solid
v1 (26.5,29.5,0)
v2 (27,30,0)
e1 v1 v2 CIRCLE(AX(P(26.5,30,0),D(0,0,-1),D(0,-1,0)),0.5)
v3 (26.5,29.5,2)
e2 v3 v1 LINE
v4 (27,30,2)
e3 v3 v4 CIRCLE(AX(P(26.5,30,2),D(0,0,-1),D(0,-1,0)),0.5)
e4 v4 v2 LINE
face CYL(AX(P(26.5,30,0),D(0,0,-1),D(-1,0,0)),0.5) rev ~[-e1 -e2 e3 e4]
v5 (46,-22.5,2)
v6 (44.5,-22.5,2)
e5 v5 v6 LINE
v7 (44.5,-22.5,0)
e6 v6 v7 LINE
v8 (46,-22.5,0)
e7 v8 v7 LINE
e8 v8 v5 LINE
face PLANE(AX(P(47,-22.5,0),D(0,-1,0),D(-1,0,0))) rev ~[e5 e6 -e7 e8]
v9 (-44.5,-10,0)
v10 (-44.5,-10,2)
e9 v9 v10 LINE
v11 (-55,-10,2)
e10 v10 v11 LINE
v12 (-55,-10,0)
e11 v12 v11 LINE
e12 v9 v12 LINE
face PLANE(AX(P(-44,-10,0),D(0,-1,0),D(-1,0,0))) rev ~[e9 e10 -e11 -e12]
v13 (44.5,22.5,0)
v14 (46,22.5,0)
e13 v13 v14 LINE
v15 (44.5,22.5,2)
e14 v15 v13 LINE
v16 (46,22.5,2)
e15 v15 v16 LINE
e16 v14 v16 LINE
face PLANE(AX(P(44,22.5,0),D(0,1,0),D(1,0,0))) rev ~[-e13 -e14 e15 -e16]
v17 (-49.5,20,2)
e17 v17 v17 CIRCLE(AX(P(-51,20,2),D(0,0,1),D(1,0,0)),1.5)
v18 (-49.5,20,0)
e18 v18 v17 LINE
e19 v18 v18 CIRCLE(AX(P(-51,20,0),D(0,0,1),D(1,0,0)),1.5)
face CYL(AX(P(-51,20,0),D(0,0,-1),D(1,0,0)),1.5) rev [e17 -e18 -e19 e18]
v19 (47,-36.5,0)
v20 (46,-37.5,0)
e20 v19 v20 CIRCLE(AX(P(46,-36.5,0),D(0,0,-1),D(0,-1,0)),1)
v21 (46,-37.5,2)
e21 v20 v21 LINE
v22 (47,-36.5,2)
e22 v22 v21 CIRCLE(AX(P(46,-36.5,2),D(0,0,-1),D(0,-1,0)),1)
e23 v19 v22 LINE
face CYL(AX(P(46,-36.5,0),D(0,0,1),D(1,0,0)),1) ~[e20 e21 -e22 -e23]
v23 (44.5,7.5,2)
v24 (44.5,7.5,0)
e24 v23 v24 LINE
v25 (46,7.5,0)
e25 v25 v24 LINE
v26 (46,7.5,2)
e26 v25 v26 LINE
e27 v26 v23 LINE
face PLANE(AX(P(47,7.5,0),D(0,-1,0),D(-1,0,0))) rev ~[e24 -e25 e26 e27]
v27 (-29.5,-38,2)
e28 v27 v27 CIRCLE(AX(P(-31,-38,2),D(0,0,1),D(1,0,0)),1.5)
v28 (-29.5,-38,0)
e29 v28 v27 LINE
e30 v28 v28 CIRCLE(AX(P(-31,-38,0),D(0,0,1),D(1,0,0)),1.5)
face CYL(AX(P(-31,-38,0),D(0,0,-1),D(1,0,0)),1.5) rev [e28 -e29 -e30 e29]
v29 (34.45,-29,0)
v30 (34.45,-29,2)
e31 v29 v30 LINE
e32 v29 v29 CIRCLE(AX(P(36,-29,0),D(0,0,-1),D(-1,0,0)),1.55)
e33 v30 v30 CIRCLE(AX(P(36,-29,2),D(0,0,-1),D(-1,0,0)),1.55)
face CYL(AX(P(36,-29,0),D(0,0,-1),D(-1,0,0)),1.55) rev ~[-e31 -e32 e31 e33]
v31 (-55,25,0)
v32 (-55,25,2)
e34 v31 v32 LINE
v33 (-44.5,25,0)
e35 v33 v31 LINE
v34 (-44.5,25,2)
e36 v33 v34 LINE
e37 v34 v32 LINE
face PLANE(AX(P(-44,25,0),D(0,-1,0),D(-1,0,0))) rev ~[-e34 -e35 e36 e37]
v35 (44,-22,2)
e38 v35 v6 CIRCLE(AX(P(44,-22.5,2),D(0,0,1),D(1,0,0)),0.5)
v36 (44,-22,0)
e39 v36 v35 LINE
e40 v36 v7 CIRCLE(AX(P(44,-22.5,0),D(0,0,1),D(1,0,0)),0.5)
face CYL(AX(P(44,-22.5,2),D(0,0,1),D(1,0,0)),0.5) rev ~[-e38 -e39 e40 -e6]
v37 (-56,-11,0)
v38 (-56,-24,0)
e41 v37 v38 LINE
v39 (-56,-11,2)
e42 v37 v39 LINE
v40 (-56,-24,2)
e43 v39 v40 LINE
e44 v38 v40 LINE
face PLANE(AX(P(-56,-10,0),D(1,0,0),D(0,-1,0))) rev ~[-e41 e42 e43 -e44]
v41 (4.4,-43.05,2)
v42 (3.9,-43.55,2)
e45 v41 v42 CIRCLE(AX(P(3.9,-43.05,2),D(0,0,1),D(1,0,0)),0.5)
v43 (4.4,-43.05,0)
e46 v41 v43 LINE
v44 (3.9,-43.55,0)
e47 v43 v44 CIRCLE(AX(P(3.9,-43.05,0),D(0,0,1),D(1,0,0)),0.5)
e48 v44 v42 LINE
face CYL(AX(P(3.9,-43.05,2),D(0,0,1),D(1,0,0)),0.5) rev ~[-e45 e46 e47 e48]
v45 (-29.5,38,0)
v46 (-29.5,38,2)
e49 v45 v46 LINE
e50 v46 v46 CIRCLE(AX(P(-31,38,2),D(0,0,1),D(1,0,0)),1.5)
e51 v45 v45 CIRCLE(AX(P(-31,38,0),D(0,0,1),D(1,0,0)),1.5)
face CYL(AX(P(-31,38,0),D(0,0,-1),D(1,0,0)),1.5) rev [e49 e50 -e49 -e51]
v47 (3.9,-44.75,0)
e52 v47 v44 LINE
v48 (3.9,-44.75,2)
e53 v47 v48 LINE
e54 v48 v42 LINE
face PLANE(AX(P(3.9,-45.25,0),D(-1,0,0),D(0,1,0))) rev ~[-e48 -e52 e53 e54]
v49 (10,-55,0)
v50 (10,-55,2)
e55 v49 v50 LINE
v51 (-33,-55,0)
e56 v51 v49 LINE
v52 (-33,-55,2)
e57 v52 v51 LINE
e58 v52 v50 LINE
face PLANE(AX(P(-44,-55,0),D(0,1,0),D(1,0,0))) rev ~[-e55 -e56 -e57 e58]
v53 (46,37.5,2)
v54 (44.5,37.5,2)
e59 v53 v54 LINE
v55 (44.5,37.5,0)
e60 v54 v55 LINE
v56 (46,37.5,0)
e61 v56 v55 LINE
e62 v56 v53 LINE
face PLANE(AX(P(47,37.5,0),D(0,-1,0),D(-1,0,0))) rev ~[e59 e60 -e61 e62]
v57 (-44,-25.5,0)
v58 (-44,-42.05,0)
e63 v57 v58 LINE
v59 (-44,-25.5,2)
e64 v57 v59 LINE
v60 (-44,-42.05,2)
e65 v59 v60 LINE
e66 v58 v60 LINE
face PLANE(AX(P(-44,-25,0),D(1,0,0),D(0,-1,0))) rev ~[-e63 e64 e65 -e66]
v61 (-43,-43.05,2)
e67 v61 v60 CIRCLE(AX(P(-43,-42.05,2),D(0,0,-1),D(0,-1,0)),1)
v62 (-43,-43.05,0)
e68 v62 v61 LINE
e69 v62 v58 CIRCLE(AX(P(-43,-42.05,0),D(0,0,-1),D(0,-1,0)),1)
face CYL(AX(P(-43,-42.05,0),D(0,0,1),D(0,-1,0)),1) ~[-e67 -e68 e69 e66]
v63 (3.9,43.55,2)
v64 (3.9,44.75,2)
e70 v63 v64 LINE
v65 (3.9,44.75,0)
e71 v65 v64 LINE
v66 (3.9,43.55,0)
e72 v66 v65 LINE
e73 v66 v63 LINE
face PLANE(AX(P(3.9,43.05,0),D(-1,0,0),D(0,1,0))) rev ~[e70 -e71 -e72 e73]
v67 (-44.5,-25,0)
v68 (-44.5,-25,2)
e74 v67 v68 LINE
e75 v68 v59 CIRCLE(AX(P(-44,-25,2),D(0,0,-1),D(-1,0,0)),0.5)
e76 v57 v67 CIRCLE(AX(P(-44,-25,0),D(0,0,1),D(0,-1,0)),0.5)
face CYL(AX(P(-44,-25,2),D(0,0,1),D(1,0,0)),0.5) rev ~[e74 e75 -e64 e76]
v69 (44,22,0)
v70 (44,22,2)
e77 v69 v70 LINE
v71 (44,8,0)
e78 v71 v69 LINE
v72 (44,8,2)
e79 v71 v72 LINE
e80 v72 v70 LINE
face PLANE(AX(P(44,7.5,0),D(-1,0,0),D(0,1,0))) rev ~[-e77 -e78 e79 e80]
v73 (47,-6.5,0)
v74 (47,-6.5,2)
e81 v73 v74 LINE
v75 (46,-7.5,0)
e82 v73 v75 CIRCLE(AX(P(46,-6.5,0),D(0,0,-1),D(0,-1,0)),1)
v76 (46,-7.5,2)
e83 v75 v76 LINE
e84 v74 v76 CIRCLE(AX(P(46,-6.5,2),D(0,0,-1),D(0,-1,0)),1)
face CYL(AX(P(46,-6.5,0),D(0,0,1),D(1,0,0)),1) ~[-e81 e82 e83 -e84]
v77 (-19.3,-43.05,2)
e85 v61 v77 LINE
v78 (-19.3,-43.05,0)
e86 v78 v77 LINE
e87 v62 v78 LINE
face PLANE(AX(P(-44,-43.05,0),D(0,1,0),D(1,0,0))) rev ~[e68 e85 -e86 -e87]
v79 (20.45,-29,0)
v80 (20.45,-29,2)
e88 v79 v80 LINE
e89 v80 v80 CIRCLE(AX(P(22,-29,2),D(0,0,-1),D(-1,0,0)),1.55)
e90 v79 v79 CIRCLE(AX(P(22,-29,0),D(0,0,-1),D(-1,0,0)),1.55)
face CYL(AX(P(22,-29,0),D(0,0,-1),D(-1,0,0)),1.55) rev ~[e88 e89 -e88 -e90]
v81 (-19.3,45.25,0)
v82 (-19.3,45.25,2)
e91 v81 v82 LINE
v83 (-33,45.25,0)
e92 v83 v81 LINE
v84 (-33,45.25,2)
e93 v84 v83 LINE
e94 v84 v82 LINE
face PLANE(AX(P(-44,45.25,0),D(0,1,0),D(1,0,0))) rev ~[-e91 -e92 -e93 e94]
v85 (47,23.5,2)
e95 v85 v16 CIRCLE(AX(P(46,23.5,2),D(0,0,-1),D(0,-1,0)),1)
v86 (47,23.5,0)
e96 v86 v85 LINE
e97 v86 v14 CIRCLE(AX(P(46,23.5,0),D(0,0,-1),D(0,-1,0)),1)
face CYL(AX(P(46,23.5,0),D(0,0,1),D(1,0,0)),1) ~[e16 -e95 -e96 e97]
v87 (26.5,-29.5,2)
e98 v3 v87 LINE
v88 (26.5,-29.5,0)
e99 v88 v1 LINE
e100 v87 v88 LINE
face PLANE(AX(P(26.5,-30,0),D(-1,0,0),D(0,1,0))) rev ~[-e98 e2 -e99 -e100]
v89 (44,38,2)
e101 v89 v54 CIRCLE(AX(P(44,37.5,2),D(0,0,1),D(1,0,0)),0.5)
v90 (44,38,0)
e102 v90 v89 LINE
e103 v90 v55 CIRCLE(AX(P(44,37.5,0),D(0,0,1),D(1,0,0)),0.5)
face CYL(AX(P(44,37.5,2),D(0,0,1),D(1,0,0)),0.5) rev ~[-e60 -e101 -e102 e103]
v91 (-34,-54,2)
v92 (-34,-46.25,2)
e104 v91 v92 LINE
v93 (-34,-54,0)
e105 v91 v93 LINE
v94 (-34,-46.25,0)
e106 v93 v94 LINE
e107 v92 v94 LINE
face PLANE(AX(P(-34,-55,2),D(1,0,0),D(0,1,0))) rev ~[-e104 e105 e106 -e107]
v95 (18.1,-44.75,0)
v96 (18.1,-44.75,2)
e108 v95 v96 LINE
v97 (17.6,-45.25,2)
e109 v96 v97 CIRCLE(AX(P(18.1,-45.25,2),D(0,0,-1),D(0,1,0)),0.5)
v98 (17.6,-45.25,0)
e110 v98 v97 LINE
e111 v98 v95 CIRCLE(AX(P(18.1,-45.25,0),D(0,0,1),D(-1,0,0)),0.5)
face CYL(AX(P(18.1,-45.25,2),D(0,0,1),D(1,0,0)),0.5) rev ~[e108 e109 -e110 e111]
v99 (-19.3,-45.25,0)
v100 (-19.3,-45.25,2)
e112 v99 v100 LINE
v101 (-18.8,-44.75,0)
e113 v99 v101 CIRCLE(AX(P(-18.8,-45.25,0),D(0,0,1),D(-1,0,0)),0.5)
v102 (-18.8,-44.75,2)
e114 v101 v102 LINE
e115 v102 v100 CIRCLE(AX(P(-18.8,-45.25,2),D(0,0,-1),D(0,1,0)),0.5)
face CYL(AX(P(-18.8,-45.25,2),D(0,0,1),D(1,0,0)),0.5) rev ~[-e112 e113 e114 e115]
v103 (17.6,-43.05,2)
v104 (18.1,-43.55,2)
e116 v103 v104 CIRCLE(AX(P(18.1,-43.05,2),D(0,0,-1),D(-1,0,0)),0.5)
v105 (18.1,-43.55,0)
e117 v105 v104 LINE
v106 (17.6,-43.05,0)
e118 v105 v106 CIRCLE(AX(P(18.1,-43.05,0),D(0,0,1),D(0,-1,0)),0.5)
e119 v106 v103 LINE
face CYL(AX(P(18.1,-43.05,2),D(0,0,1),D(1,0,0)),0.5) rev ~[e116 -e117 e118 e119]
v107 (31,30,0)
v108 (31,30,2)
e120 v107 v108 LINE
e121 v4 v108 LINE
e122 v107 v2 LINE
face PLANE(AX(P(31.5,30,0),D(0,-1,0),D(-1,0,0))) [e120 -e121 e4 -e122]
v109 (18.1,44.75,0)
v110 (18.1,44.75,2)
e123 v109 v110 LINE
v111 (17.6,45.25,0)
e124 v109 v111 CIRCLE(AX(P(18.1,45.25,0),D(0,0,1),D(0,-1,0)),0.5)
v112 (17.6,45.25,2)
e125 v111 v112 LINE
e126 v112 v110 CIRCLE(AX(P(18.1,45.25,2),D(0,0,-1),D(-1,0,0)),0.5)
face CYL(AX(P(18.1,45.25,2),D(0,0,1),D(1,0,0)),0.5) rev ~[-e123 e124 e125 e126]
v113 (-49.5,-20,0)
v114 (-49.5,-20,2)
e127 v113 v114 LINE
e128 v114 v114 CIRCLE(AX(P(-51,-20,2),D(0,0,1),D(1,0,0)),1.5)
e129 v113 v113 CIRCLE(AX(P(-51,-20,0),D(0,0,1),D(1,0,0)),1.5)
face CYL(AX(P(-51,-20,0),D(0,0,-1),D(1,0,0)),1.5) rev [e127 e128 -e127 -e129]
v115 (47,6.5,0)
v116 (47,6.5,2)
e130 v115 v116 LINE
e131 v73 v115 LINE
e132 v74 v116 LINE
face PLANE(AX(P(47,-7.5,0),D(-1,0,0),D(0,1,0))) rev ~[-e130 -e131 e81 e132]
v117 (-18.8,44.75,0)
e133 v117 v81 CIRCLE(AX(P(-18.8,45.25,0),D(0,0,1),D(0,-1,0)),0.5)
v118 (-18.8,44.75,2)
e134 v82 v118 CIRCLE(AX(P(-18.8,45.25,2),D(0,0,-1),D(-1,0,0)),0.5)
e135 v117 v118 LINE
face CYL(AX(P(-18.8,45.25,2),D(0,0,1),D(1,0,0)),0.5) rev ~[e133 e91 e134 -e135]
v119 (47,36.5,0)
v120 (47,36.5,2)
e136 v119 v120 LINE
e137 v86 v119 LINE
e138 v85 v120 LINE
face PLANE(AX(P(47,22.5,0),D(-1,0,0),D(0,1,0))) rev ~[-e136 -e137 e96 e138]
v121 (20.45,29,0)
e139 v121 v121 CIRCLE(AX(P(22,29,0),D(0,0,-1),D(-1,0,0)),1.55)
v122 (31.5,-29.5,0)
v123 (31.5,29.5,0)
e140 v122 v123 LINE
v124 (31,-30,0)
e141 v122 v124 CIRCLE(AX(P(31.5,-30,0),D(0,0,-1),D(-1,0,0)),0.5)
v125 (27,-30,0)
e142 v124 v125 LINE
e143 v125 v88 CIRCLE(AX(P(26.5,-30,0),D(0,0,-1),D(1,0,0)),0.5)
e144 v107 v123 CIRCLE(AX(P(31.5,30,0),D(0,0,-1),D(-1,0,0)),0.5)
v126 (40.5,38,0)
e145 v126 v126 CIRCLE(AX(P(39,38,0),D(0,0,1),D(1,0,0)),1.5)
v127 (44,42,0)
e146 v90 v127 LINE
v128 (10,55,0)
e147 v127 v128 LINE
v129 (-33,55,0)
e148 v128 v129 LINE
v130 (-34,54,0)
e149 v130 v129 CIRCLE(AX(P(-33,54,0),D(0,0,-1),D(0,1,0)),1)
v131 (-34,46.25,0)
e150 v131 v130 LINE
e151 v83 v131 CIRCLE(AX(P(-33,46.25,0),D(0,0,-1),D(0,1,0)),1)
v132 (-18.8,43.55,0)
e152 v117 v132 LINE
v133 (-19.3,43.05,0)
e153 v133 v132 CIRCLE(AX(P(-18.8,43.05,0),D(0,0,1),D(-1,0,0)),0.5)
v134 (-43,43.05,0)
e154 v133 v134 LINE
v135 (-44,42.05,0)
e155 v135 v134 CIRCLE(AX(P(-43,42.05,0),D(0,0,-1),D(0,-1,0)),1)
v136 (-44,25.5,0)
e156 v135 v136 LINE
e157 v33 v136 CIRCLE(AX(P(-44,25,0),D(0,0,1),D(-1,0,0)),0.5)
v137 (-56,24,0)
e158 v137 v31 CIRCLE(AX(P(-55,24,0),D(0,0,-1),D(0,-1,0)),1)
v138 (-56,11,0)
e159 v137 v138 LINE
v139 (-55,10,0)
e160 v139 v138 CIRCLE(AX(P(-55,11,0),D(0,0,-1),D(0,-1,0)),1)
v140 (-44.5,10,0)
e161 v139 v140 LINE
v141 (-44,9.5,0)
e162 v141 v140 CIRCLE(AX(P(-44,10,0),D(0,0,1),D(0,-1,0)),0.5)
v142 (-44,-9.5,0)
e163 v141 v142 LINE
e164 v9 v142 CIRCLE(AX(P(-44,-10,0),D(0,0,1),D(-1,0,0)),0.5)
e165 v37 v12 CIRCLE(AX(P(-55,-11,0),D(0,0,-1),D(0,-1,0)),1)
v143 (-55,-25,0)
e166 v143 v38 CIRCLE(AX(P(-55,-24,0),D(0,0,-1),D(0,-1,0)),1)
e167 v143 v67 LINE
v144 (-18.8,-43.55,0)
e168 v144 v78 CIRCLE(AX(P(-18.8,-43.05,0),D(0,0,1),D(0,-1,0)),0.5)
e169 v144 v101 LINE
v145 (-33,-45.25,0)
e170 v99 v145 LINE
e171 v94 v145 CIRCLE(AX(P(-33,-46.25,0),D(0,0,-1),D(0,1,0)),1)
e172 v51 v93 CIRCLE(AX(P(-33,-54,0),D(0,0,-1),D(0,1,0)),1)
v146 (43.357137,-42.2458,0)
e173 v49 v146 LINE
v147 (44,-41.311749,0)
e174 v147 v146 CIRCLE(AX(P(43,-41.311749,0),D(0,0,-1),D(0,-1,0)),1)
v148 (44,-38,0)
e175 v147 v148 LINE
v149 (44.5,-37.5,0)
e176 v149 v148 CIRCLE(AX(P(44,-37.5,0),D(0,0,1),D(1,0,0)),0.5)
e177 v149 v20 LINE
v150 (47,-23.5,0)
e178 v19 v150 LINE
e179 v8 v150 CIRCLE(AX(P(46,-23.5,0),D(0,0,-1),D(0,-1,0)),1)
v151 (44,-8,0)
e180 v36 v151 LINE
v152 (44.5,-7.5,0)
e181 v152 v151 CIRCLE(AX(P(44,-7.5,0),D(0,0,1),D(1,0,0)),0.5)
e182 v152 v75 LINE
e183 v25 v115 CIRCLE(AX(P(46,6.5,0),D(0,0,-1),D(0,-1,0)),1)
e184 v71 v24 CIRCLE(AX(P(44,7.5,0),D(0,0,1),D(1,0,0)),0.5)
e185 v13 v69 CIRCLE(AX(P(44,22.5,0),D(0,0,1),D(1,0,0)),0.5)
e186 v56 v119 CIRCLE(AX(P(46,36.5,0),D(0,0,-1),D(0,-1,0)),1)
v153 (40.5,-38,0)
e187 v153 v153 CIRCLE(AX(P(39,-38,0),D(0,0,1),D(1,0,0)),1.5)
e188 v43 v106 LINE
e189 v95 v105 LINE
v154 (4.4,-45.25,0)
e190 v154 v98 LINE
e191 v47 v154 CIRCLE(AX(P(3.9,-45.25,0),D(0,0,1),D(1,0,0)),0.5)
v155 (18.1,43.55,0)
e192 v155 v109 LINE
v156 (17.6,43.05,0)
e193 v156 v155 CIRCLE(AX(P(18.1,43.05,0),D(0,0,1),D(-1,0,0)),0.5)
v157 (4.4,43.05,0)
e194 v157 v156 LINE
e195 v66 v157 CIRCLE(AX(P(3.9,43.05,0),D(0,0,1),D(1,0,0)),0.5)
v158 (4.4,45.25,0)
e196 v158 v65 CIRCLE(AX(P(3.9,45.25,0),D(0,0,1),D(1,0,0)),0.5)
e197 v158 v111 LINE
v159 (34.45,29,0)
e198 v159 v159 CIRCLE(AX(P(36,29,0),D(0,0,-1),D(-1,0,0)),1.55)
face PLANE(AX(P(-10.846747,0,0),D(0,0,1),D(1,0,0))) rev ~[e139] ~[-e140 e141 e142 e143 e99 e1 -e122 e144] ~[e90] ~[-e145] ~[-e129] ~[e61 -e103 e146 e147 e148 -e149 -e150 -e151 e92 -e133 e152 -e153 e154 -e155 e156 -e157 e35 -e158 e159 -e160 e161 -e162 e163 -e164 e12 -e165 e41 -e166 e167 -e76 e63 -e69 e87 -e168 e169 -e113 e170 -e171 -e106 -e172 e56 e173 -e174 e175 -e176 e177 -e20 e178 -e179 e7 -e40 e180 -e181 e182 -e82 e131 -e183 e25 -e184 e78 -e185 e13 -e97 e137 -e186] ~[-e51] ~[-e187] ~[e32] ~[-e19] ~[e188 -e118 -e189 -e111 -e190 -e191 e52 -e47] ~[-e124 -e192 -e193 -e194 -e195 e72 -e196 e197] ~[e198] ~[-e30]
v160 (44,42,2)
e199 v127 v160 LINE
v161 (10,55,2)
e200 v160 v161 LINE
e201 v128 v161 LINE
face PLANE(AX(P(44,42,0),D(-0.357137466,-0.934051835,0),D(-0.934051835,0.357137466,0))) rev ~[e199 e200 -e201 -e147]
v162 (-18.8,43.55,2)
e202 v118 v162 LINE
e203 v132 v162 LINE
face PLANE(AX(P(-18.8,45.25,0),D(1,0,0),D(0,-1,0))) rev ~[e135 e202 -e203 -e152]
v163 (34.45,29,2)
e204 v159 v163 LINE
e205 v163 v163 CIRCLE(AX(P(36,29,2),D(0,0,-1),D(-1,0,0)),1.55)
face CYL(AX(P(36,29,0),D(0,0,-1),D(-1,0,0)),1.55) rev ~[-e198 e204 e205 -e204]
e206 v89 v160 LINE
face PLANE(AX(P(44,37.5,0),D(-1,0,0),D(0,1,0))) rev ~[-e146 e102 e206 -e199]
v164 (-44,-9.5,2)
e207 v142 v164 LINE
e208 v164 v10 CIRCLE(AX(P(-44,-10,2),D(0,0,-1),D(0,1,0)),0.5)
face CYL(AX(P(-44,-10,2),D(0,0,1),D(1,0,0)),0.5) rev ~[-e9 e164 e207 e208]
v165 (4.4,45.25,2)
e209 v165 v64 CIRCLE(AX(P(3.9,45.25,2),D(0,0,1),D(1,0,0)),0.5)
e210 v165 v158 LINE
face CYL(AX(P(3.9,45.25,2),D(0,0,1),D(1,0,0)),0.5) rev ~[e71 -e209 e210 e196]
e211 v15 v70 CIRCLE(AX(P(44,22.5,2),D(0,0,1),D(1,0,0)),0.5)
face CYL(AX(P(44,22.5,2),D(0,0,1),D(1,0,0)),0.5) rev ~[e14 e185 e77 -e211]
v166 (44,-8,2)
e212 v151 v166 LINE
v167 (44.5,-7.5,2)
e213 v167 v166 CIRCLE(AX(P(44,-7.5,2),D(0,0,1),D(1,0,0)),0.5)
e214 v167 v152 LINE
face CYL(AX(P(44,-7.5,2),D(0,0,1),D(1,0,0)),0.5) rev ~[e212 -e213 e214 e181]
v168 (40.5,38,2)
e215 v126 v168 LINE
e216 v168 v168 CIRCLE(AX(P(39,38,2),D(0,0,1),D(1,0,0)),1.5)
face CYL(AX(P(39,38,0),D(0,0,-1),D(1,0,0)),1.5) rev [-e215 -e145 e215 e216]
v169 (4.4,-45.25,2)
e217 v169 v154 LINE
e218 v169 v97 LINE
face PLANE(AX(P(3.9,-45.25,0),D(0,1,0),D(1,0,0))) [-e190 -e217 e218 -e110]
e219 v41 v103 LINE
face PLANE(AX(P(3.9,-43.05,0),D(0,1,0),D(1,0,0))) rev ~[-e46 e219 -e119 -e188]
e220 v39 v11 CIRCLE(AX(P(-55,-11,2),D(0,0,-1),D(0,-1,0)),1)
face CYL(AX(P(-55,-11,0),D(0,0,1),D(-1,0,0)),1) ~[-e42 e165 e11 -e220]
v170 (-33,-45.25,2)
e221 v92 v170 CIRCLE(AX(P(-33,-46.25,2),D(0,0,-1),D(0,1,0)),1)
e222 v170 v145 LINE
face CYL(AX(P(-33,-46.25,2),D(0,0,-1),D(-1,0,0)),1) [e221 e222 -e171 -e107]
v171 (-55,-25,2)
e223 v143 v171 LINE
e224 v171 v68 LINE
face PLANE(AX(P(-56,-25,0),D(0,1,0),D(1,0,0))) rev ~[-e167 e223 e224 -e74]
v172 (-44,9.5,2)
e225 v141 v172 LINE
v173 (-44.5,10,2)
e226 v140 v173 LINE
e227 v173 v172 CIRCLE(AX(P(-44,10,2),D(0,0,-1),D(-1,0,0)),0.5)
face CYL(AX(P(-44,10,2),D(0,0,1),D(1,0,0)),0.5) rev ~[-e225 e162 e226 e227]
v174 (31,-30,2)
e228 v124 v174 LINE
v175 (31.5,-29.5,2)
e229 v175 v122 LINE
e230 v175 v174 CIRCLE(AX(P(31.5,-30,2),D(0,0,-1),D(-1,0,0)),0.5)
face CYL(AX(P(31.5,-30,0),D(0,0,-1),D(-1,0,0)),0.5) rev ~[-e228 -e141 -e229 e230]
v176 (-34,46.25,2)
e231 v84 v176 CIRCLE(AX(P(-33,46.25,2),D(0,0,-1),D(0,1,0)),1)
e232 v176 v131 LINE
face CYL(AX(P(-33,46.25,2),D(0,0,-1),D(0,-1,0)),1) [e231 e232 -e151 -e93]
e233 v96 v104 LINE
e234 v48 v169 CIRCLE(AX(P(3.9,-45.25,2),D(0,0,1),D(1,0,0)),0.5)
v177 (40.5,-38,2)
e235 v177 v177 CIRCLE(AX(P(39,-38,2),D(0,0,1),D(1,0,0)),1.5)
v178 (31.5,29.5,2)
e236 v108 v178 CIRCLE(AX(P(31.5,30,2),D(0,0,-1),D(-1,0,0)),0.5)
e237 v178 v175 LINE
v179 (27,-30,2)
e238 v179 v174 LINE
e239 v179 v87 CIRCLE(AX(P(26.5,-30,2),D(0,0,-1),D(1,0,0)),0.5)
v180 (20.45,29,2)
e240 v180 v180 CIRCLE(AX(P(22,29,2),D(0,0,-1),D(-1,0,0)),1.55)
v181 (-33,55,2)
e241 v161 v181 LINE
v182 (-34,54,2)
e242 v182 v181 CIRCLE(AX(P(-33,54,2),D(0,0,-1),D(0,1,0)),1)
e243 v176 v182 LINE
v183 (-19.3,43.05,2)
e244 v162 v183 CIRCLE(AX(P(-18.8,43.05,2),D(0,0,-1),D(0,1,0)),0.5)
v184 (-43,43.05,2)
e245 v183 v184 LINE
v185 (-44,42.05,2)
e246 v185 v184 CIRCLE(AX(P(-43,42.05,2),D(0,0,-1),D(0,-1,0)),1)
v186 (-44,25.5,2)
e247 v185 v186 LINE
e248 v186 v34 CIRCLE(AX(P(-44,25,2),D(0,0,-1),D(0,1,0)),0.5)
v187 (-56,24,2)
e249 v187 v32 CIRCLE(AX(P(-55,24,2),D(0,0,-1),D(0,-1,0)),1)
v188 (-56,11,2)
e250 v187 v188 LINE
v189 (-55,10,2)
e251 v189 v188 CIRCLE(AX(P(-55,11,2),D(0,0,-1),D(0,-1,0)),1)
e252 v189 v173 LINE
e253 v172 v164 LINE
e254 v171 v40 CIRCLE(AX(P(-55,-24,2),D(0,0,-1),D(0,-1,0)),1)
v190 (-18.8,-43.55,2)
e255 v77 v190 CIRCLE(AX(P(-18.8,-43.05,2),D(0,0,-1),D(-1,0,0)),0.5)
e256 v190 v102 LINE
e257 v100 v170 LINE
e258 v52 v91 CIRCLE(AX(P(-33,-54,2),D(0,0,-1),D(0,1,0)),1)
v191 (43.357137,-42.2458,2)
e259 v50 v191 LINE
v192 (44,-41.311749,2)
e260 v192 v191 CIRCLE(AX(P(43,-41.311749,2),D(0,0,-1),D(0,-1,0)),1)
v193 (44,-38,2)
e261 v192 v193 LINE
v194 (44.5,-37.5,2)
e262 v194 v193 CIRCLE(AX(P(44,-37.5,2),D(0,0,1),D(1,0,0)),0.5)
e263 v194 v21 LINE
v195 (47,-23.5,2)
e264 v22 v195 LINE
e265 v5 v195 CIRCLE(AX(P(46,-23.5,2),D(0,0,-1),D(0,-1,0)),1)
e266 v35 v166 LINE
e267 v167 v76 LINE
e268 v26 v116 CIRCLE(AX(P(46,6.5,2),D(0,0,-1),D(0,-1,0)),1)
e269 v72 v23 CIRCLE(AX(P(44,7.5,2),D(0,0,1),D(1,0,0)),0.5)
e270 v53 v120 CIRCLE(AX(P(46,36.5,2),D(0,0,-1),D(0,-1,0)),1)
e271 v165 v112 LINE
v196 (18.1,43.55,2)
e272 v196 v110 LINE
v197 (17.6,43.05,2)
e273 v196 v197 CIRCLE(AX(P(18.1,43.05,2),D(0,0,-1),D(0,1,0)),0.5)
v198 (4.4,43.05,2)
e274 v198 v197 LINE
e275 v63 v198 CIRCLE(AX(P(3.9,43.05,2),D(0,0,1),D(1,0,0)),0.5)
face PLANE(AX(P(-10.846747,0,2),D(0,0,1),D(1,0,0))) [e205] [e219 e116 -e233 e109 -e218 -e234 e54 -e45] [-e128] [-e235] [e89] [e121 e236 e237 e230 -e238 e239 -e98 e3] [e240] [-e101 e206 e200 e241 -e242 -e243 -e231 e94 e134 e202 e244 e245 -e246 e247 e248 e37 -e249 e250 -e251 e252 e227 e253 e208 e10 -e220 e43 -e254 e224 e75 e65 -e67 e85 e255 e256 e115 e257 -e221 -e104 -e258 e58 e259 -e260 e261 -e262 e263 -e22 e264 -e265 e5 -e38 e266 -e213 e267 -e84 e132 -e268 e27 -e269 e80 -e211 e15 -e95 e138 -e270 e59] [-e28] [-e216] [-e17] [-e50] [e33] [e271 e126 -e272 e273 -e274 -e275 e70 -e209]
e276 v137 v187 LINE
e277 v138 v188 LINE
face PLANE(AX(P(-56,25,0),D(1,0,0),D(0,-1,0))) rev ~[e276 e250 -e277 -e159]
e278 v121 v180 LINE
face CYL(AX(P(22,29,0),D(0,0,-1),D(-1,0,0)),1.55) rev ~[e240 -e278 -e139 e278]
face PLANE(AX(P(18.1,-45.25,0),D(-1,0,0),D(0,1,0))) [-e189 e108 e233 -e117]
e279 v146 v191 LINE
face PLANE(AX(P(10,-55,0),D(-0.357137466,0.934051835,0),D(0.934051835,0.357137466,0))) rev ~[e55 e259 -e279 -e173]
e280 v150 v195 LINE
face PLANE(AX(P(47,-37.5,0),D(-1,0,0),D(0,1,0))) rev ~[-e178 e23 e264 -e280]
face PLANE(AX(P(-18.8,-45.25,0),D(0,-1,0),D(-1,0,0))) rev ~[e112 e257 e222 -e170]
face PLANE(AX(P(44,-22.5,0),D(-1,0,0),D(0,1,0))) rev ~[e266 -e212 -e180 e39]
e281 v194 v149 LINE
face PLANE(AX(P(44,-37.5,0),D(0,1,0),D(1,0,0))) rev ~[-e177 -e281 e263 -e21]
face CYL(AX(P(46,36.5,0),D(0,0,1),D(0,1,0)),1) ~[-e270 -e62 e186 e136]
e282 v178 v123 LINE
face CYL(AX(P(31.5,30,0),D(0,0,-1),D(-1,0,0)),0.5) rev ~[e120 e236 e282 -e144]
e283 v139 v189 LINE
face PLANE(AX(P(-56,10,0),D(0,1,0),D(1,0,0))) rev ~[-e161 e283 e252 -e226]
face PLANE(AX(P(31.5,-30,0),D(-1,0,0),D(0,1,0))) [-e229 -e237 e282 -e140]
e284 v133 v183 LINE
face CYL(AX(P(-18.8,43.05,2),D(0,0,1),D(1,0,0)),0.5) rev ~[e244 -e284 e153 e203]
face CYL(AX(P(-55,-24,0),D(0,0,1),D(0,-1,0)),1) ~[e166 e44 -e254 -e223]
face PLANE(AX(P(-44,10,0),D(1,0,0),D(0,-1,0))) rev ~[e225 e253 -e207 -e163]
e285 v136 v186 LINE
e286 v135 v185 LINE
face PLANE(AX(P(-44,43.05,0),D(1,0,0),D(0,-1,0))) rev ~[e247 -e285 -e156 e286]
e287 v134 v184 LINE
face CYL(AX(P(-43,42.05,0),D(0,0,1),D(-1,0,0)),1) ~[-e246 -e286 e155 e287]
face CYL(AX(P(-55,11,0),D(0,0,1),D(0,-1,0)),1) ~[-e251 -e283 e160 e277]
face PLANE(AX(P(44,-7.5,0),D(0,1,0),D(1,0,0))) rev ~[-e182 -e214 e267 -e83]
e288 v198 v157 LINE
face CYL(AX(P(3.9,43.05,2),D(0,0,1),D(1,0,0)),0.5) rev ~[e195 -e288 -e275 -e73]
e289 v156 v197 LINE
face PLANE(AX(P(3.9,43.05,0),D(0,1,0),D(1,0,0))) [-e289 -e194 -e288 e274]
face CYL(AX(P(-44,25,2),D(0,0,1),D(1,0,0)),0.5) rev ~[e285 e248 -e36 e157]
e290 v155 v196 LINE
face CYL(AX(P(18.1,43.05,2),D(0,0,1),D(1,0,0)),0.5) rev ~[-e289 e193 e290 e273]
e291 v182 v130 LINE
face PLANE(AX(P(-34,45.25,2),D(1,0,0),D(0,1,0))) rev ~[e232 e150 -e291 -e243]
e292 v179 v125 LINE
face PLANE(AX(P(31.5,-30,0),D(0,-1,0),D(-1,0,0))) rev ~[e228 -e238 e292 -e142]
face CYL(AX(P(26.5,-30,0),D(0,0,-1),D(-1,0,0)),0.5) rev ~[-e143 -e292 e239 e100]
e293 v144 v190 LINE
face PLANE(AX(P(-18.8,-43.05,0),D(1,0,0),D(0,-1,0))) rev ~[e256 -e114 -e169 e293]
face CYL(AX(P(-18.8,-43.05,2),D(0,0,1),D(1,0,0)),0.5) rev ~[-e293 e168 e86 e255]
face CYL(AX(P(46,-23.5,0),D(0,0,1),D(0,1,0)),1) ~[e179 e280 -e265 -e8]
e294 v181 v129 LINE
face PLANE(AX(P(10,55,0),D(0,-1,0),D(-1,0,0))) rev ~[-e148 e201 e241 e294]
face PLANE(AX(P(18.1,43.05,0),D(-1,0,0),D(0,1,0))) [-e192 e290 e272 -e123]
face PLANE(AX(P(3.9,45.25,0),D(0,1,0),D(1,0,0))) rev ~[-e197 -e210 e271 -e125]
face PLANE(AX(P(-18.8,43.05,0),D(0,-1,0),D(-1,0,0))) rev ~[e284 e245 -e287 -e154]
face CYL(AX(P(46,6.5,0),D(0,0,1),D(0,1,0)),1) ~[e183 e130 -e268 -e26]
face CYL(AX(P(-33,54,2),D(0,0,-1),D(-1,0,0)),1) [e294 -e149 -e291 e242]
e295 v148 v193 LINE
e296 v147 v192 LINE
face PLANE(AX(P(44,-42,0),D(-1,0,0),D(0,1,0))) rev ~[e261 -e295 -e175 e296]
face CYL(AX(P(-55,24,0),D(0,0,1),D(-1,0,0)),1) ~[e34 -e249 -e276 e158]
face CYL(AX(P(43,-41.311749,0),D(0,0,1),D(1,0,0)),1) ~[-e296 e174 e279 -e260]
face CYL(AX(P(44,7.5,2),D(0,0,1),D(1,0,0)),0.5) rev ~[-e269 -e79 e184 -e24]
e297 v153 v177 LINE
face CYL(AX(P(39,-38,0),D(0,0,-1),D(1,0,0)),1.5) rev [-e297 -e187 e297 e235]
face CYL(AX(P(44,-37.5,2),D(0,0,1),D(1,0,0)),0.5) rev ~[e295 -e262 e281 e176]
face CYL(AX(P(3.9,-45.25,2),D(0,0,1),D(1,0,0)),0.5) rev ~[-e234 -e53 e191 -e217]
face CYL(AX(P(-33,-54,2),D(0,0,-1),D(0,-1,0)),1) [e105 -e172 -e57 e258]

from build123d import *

# Parameters (mm, degrees)
SKETCH_1_R          = 1.5
SKETCH_1_W          = 14.2
SKETCH_1_H          = 2.2
EXTRUDE_1_DEPTH     = 2
SKETCH_2_R          = 0.5
CUT_EXTRUDE_1_DEPTH = 3
FILLET_1_R          = 1
SKETCH_3_R          = 1.55
SKETCH_3_W          = 5
SKETCH_3_H          = 60
CUT_EXTRUDE_2_DEPTH = 3
SKETCH_4_R          = 0.5
CUT_EXTRUDE_3_DEPTH = 3
SKETCH_5_W          = 10
SKETCH_5_H          = 9.75
CUT_EXTRUDE_4_DEPTH = 10
FILLET_2_R          = 1


with BuildPart() as part:
    # 草图1 → 凸台-拉伸1 (new body)
    with BuildSketch(Plane.XY):
        Polygon((44, 42), (10, 55), (-44, 55), (-44, 45.25), (-18.8, 45.25), (-18.8, 43.05), (-44, 43.05), (-44, 25), (-56, 25), (-56, 10), (-44, 10), (-44, -10), (-56, -10), (-56, -25), (-44, -25), (-44, -43.05), (-18.8, -43.05), (-18.8, -45.25), (-44, -45.25), (-44, -55), (10, -55), (44, -42), (44, -37.5), (47, -37.5), (47, -22.5), (44, -22.5), (44, -7.5), (47, -7.5), (47, 7.5), (44, 7.5), (44, 22.5), (47, 22.5), (47, 37.5), (44, 37.5), align=None)
        with Locations((-39, -50)):
            Circle(SKETCH_1_R, mode=Mode.SUBTRACT)
        with Locations((-31, -38)):
            Circle(SKETCH_1_R, mode=Mode.SUBTRACT)
        with Locations((11, -44.15)):
            Rectangle(SKETCH_1_W, SKETCH_1_H, mode=Mode.SUBTRACT)
        with Locations((39, -38)):
            Circle(SKETCH_1_R, mode=Mode.SUBTRACT)
        with Locations((-31, 38)):
            Circle(SKETCH_1_R, mode=Mode.SUBTRACT)
        with Locations((-39, 50)):
            Circle(SKETCH_1_R, mode=Mode.SUBTRACT)
        with Locations((11, 44.15)):
            Rectangle(SKETCH_1_W, SKETCH_1_H, mode=Mode.SUBTRACT)
        with Locations((39, 38)):
            Circle(SKETCH_1_R, mode=Mode.SUBTRACT)
        with Locations((-51, 20)):
            Circle(SKETCH_1_R, mode=Mode.SUBTRACT)
        with Locations((-51, -20)):
            Circle(SKETCH_1_R, mode=Mode.SUBTRACT)
    extrude(amount=EXTRUDE_1_DEPTH)

    # 草图2 → 切除-拉伸1 (cut, through all)
    with BuildSketch(Plane.XY.offset(2)):
        with Locations((-18.8, -45.25)):
            Circle(SKETCH_2_R)
        with Locations((-18.8, -43.05)):
            Circle(SKETCH_2_R)
        with Locations((3.9, -45.25)):
            Circle(SKETCH_2_R)
        with Locations((3.9, -43.05)):
            Circle(SKETCH_2_R)
        with Locations((18.1, -43.05)):
            Circle(SKETCH_2_R)
        with Locations((18.1, -45.25)):
            Circle(SKETCH_2_R)
        with Locations((18.1, 45.25)):
            Circle(SKETCH_2_R)
        with Locations((18.1, 43.05)):
            Circle(SKETCH_2_R)
        with Locations((3.9, 43.05)):
            Circle(SKETCH_2_R)
        with Locations((3.9, 45.25)):
            Circle(SKETCH_2_R)
        with Locations((-18.8, 43.05)):
            Circle(SKETCH_2_R)
        with Locations((-18.8, 45.25)):
            Circle(SKETCH_2_R)
        with Locations((-44, -25)):
            Circle(SKETCH_2_R)
        with Locations((-44, -10)):
            Circle(SKETCH_2_R)
        with Locations((-44, 10)):
            Circle(SKETCH_2_R)
        with Locations((-44, 25)):
            Circle(SKETCH_2_R)
        with Locations((44, -37.5)):
            Circle(SKETCH_2_R)
        with Locations((44, -22.5)):
            Circle(SKETCH_2_R)
        with Locations((44, -7.5)):
            Circle(SKETCH_2_R)
        with Locations((44, 22.5)):
            Circle(SKETCH_2_R)
        with Locations((44, 37.5)):
            Circle(SKETCH_2_R)
        with Locations((44, 7.5)):
            Circle(SKETCH_2_R)
    extrude(amount=-CUT_EXTRUDE_1_DEPTH, mode=Mode.SUBTRACT)

    # 圆角1
    fillet_1_edges = [part.edges().sort_by_distance(p)[0] for p in [
        (-44, -55, 1),
        (-44, -45.25, 1),
        (-44, -43.05, 1),
        (-56, -25, 1),
        (-56, -10, 1),
        (-56, 10, 1),
        (-56, 25, 1),
        (-44, 43.05, 1),
        (-44, 45.25, 1),
        (-44, 55, 1),
        (47, 37.5, 1),
        (47, 22.5, 1),
        (47, 7.5, 1),
        (47, -7.5, 1),
        (47, -22.5, 1),
        (47, -37.5, 1),
        (44, -42, 1),
    ]]
    fillet(fillet_1_edges, radius=FILLET_1_R)

    # 草图3 → 切除-拉伸2 (cut, through all)
    with BuildSketch(Plane(origin=(0, 0, 0), x_dir=(-1, 0, 0), z_dir=(0, 0, -1))):
        with Locations((-36, 29)):
            Circle(SKETCH_3_R)
        with Locations((-36, -29)):
            Circle(SKETCH_3_R)
        with Locations((-22, 29)):
            Circle(SKETCH_3_R)
        with Locations((-22, -29)):
            Circle(SKETCH_3_R)
        with Locations((-29, 0)):
            Rectangle(SKETCH_3_W, SKETCH_3_H)
    extrude(amount=-CUT_EXTRUDE_2_DEPTH, mode=Mode.SUBTRACT)

    # 草图4 → 切除-拉伸3 (cut, through all)
    with BuildSketch(Plane(origin=(0, 0, 0), x_dir=(-1, 0, 0), z_dir=(0, 0, -1))):
        with Locations((-31.5, 30)):
            Circle(SKETCH_4_R)
        with Locations((-26.5, 30)):
            Circle(SKETCH_4_R)
        with Locations((-31.5, -30)):
            Circle(SKETCH_4_R)
        with Locations((-26.5, -30)):
            Circle(SKETCH_4_R)
    extrude(amount=-CUT_EXTRUDE_3_DEPTH, mode=Mode.SUBTRACT)

    # 草图5 → 切除-拉伸4 (cut)
    with BuildSketch(Plane.XY.offset(2)):
        with Locations((-39, 50.125)):
            Rectangle(SKETCH_5_W, SKETCH_5_H)
        with Locations((-39, -50.125)):
            Rectangle(SKETCH_5_W, SKETCH_5_H)
    extrude(amount=-CUT_EXTRUDE_4_DEPTH, mode=Mode.SUBTRACT)

    # 圆角2
    fillet_2_edges = [part.edges().sort_by_distance(p)[0] for p in [
        (-34, 55, 1),
        (-34, 45.25, 1),
        (-34, -45.25, 1),
        (-34, -55, 1),
    ]]
    fillet(fillet_2_edges, radius=FILLET_2_R)


solid = part.part
